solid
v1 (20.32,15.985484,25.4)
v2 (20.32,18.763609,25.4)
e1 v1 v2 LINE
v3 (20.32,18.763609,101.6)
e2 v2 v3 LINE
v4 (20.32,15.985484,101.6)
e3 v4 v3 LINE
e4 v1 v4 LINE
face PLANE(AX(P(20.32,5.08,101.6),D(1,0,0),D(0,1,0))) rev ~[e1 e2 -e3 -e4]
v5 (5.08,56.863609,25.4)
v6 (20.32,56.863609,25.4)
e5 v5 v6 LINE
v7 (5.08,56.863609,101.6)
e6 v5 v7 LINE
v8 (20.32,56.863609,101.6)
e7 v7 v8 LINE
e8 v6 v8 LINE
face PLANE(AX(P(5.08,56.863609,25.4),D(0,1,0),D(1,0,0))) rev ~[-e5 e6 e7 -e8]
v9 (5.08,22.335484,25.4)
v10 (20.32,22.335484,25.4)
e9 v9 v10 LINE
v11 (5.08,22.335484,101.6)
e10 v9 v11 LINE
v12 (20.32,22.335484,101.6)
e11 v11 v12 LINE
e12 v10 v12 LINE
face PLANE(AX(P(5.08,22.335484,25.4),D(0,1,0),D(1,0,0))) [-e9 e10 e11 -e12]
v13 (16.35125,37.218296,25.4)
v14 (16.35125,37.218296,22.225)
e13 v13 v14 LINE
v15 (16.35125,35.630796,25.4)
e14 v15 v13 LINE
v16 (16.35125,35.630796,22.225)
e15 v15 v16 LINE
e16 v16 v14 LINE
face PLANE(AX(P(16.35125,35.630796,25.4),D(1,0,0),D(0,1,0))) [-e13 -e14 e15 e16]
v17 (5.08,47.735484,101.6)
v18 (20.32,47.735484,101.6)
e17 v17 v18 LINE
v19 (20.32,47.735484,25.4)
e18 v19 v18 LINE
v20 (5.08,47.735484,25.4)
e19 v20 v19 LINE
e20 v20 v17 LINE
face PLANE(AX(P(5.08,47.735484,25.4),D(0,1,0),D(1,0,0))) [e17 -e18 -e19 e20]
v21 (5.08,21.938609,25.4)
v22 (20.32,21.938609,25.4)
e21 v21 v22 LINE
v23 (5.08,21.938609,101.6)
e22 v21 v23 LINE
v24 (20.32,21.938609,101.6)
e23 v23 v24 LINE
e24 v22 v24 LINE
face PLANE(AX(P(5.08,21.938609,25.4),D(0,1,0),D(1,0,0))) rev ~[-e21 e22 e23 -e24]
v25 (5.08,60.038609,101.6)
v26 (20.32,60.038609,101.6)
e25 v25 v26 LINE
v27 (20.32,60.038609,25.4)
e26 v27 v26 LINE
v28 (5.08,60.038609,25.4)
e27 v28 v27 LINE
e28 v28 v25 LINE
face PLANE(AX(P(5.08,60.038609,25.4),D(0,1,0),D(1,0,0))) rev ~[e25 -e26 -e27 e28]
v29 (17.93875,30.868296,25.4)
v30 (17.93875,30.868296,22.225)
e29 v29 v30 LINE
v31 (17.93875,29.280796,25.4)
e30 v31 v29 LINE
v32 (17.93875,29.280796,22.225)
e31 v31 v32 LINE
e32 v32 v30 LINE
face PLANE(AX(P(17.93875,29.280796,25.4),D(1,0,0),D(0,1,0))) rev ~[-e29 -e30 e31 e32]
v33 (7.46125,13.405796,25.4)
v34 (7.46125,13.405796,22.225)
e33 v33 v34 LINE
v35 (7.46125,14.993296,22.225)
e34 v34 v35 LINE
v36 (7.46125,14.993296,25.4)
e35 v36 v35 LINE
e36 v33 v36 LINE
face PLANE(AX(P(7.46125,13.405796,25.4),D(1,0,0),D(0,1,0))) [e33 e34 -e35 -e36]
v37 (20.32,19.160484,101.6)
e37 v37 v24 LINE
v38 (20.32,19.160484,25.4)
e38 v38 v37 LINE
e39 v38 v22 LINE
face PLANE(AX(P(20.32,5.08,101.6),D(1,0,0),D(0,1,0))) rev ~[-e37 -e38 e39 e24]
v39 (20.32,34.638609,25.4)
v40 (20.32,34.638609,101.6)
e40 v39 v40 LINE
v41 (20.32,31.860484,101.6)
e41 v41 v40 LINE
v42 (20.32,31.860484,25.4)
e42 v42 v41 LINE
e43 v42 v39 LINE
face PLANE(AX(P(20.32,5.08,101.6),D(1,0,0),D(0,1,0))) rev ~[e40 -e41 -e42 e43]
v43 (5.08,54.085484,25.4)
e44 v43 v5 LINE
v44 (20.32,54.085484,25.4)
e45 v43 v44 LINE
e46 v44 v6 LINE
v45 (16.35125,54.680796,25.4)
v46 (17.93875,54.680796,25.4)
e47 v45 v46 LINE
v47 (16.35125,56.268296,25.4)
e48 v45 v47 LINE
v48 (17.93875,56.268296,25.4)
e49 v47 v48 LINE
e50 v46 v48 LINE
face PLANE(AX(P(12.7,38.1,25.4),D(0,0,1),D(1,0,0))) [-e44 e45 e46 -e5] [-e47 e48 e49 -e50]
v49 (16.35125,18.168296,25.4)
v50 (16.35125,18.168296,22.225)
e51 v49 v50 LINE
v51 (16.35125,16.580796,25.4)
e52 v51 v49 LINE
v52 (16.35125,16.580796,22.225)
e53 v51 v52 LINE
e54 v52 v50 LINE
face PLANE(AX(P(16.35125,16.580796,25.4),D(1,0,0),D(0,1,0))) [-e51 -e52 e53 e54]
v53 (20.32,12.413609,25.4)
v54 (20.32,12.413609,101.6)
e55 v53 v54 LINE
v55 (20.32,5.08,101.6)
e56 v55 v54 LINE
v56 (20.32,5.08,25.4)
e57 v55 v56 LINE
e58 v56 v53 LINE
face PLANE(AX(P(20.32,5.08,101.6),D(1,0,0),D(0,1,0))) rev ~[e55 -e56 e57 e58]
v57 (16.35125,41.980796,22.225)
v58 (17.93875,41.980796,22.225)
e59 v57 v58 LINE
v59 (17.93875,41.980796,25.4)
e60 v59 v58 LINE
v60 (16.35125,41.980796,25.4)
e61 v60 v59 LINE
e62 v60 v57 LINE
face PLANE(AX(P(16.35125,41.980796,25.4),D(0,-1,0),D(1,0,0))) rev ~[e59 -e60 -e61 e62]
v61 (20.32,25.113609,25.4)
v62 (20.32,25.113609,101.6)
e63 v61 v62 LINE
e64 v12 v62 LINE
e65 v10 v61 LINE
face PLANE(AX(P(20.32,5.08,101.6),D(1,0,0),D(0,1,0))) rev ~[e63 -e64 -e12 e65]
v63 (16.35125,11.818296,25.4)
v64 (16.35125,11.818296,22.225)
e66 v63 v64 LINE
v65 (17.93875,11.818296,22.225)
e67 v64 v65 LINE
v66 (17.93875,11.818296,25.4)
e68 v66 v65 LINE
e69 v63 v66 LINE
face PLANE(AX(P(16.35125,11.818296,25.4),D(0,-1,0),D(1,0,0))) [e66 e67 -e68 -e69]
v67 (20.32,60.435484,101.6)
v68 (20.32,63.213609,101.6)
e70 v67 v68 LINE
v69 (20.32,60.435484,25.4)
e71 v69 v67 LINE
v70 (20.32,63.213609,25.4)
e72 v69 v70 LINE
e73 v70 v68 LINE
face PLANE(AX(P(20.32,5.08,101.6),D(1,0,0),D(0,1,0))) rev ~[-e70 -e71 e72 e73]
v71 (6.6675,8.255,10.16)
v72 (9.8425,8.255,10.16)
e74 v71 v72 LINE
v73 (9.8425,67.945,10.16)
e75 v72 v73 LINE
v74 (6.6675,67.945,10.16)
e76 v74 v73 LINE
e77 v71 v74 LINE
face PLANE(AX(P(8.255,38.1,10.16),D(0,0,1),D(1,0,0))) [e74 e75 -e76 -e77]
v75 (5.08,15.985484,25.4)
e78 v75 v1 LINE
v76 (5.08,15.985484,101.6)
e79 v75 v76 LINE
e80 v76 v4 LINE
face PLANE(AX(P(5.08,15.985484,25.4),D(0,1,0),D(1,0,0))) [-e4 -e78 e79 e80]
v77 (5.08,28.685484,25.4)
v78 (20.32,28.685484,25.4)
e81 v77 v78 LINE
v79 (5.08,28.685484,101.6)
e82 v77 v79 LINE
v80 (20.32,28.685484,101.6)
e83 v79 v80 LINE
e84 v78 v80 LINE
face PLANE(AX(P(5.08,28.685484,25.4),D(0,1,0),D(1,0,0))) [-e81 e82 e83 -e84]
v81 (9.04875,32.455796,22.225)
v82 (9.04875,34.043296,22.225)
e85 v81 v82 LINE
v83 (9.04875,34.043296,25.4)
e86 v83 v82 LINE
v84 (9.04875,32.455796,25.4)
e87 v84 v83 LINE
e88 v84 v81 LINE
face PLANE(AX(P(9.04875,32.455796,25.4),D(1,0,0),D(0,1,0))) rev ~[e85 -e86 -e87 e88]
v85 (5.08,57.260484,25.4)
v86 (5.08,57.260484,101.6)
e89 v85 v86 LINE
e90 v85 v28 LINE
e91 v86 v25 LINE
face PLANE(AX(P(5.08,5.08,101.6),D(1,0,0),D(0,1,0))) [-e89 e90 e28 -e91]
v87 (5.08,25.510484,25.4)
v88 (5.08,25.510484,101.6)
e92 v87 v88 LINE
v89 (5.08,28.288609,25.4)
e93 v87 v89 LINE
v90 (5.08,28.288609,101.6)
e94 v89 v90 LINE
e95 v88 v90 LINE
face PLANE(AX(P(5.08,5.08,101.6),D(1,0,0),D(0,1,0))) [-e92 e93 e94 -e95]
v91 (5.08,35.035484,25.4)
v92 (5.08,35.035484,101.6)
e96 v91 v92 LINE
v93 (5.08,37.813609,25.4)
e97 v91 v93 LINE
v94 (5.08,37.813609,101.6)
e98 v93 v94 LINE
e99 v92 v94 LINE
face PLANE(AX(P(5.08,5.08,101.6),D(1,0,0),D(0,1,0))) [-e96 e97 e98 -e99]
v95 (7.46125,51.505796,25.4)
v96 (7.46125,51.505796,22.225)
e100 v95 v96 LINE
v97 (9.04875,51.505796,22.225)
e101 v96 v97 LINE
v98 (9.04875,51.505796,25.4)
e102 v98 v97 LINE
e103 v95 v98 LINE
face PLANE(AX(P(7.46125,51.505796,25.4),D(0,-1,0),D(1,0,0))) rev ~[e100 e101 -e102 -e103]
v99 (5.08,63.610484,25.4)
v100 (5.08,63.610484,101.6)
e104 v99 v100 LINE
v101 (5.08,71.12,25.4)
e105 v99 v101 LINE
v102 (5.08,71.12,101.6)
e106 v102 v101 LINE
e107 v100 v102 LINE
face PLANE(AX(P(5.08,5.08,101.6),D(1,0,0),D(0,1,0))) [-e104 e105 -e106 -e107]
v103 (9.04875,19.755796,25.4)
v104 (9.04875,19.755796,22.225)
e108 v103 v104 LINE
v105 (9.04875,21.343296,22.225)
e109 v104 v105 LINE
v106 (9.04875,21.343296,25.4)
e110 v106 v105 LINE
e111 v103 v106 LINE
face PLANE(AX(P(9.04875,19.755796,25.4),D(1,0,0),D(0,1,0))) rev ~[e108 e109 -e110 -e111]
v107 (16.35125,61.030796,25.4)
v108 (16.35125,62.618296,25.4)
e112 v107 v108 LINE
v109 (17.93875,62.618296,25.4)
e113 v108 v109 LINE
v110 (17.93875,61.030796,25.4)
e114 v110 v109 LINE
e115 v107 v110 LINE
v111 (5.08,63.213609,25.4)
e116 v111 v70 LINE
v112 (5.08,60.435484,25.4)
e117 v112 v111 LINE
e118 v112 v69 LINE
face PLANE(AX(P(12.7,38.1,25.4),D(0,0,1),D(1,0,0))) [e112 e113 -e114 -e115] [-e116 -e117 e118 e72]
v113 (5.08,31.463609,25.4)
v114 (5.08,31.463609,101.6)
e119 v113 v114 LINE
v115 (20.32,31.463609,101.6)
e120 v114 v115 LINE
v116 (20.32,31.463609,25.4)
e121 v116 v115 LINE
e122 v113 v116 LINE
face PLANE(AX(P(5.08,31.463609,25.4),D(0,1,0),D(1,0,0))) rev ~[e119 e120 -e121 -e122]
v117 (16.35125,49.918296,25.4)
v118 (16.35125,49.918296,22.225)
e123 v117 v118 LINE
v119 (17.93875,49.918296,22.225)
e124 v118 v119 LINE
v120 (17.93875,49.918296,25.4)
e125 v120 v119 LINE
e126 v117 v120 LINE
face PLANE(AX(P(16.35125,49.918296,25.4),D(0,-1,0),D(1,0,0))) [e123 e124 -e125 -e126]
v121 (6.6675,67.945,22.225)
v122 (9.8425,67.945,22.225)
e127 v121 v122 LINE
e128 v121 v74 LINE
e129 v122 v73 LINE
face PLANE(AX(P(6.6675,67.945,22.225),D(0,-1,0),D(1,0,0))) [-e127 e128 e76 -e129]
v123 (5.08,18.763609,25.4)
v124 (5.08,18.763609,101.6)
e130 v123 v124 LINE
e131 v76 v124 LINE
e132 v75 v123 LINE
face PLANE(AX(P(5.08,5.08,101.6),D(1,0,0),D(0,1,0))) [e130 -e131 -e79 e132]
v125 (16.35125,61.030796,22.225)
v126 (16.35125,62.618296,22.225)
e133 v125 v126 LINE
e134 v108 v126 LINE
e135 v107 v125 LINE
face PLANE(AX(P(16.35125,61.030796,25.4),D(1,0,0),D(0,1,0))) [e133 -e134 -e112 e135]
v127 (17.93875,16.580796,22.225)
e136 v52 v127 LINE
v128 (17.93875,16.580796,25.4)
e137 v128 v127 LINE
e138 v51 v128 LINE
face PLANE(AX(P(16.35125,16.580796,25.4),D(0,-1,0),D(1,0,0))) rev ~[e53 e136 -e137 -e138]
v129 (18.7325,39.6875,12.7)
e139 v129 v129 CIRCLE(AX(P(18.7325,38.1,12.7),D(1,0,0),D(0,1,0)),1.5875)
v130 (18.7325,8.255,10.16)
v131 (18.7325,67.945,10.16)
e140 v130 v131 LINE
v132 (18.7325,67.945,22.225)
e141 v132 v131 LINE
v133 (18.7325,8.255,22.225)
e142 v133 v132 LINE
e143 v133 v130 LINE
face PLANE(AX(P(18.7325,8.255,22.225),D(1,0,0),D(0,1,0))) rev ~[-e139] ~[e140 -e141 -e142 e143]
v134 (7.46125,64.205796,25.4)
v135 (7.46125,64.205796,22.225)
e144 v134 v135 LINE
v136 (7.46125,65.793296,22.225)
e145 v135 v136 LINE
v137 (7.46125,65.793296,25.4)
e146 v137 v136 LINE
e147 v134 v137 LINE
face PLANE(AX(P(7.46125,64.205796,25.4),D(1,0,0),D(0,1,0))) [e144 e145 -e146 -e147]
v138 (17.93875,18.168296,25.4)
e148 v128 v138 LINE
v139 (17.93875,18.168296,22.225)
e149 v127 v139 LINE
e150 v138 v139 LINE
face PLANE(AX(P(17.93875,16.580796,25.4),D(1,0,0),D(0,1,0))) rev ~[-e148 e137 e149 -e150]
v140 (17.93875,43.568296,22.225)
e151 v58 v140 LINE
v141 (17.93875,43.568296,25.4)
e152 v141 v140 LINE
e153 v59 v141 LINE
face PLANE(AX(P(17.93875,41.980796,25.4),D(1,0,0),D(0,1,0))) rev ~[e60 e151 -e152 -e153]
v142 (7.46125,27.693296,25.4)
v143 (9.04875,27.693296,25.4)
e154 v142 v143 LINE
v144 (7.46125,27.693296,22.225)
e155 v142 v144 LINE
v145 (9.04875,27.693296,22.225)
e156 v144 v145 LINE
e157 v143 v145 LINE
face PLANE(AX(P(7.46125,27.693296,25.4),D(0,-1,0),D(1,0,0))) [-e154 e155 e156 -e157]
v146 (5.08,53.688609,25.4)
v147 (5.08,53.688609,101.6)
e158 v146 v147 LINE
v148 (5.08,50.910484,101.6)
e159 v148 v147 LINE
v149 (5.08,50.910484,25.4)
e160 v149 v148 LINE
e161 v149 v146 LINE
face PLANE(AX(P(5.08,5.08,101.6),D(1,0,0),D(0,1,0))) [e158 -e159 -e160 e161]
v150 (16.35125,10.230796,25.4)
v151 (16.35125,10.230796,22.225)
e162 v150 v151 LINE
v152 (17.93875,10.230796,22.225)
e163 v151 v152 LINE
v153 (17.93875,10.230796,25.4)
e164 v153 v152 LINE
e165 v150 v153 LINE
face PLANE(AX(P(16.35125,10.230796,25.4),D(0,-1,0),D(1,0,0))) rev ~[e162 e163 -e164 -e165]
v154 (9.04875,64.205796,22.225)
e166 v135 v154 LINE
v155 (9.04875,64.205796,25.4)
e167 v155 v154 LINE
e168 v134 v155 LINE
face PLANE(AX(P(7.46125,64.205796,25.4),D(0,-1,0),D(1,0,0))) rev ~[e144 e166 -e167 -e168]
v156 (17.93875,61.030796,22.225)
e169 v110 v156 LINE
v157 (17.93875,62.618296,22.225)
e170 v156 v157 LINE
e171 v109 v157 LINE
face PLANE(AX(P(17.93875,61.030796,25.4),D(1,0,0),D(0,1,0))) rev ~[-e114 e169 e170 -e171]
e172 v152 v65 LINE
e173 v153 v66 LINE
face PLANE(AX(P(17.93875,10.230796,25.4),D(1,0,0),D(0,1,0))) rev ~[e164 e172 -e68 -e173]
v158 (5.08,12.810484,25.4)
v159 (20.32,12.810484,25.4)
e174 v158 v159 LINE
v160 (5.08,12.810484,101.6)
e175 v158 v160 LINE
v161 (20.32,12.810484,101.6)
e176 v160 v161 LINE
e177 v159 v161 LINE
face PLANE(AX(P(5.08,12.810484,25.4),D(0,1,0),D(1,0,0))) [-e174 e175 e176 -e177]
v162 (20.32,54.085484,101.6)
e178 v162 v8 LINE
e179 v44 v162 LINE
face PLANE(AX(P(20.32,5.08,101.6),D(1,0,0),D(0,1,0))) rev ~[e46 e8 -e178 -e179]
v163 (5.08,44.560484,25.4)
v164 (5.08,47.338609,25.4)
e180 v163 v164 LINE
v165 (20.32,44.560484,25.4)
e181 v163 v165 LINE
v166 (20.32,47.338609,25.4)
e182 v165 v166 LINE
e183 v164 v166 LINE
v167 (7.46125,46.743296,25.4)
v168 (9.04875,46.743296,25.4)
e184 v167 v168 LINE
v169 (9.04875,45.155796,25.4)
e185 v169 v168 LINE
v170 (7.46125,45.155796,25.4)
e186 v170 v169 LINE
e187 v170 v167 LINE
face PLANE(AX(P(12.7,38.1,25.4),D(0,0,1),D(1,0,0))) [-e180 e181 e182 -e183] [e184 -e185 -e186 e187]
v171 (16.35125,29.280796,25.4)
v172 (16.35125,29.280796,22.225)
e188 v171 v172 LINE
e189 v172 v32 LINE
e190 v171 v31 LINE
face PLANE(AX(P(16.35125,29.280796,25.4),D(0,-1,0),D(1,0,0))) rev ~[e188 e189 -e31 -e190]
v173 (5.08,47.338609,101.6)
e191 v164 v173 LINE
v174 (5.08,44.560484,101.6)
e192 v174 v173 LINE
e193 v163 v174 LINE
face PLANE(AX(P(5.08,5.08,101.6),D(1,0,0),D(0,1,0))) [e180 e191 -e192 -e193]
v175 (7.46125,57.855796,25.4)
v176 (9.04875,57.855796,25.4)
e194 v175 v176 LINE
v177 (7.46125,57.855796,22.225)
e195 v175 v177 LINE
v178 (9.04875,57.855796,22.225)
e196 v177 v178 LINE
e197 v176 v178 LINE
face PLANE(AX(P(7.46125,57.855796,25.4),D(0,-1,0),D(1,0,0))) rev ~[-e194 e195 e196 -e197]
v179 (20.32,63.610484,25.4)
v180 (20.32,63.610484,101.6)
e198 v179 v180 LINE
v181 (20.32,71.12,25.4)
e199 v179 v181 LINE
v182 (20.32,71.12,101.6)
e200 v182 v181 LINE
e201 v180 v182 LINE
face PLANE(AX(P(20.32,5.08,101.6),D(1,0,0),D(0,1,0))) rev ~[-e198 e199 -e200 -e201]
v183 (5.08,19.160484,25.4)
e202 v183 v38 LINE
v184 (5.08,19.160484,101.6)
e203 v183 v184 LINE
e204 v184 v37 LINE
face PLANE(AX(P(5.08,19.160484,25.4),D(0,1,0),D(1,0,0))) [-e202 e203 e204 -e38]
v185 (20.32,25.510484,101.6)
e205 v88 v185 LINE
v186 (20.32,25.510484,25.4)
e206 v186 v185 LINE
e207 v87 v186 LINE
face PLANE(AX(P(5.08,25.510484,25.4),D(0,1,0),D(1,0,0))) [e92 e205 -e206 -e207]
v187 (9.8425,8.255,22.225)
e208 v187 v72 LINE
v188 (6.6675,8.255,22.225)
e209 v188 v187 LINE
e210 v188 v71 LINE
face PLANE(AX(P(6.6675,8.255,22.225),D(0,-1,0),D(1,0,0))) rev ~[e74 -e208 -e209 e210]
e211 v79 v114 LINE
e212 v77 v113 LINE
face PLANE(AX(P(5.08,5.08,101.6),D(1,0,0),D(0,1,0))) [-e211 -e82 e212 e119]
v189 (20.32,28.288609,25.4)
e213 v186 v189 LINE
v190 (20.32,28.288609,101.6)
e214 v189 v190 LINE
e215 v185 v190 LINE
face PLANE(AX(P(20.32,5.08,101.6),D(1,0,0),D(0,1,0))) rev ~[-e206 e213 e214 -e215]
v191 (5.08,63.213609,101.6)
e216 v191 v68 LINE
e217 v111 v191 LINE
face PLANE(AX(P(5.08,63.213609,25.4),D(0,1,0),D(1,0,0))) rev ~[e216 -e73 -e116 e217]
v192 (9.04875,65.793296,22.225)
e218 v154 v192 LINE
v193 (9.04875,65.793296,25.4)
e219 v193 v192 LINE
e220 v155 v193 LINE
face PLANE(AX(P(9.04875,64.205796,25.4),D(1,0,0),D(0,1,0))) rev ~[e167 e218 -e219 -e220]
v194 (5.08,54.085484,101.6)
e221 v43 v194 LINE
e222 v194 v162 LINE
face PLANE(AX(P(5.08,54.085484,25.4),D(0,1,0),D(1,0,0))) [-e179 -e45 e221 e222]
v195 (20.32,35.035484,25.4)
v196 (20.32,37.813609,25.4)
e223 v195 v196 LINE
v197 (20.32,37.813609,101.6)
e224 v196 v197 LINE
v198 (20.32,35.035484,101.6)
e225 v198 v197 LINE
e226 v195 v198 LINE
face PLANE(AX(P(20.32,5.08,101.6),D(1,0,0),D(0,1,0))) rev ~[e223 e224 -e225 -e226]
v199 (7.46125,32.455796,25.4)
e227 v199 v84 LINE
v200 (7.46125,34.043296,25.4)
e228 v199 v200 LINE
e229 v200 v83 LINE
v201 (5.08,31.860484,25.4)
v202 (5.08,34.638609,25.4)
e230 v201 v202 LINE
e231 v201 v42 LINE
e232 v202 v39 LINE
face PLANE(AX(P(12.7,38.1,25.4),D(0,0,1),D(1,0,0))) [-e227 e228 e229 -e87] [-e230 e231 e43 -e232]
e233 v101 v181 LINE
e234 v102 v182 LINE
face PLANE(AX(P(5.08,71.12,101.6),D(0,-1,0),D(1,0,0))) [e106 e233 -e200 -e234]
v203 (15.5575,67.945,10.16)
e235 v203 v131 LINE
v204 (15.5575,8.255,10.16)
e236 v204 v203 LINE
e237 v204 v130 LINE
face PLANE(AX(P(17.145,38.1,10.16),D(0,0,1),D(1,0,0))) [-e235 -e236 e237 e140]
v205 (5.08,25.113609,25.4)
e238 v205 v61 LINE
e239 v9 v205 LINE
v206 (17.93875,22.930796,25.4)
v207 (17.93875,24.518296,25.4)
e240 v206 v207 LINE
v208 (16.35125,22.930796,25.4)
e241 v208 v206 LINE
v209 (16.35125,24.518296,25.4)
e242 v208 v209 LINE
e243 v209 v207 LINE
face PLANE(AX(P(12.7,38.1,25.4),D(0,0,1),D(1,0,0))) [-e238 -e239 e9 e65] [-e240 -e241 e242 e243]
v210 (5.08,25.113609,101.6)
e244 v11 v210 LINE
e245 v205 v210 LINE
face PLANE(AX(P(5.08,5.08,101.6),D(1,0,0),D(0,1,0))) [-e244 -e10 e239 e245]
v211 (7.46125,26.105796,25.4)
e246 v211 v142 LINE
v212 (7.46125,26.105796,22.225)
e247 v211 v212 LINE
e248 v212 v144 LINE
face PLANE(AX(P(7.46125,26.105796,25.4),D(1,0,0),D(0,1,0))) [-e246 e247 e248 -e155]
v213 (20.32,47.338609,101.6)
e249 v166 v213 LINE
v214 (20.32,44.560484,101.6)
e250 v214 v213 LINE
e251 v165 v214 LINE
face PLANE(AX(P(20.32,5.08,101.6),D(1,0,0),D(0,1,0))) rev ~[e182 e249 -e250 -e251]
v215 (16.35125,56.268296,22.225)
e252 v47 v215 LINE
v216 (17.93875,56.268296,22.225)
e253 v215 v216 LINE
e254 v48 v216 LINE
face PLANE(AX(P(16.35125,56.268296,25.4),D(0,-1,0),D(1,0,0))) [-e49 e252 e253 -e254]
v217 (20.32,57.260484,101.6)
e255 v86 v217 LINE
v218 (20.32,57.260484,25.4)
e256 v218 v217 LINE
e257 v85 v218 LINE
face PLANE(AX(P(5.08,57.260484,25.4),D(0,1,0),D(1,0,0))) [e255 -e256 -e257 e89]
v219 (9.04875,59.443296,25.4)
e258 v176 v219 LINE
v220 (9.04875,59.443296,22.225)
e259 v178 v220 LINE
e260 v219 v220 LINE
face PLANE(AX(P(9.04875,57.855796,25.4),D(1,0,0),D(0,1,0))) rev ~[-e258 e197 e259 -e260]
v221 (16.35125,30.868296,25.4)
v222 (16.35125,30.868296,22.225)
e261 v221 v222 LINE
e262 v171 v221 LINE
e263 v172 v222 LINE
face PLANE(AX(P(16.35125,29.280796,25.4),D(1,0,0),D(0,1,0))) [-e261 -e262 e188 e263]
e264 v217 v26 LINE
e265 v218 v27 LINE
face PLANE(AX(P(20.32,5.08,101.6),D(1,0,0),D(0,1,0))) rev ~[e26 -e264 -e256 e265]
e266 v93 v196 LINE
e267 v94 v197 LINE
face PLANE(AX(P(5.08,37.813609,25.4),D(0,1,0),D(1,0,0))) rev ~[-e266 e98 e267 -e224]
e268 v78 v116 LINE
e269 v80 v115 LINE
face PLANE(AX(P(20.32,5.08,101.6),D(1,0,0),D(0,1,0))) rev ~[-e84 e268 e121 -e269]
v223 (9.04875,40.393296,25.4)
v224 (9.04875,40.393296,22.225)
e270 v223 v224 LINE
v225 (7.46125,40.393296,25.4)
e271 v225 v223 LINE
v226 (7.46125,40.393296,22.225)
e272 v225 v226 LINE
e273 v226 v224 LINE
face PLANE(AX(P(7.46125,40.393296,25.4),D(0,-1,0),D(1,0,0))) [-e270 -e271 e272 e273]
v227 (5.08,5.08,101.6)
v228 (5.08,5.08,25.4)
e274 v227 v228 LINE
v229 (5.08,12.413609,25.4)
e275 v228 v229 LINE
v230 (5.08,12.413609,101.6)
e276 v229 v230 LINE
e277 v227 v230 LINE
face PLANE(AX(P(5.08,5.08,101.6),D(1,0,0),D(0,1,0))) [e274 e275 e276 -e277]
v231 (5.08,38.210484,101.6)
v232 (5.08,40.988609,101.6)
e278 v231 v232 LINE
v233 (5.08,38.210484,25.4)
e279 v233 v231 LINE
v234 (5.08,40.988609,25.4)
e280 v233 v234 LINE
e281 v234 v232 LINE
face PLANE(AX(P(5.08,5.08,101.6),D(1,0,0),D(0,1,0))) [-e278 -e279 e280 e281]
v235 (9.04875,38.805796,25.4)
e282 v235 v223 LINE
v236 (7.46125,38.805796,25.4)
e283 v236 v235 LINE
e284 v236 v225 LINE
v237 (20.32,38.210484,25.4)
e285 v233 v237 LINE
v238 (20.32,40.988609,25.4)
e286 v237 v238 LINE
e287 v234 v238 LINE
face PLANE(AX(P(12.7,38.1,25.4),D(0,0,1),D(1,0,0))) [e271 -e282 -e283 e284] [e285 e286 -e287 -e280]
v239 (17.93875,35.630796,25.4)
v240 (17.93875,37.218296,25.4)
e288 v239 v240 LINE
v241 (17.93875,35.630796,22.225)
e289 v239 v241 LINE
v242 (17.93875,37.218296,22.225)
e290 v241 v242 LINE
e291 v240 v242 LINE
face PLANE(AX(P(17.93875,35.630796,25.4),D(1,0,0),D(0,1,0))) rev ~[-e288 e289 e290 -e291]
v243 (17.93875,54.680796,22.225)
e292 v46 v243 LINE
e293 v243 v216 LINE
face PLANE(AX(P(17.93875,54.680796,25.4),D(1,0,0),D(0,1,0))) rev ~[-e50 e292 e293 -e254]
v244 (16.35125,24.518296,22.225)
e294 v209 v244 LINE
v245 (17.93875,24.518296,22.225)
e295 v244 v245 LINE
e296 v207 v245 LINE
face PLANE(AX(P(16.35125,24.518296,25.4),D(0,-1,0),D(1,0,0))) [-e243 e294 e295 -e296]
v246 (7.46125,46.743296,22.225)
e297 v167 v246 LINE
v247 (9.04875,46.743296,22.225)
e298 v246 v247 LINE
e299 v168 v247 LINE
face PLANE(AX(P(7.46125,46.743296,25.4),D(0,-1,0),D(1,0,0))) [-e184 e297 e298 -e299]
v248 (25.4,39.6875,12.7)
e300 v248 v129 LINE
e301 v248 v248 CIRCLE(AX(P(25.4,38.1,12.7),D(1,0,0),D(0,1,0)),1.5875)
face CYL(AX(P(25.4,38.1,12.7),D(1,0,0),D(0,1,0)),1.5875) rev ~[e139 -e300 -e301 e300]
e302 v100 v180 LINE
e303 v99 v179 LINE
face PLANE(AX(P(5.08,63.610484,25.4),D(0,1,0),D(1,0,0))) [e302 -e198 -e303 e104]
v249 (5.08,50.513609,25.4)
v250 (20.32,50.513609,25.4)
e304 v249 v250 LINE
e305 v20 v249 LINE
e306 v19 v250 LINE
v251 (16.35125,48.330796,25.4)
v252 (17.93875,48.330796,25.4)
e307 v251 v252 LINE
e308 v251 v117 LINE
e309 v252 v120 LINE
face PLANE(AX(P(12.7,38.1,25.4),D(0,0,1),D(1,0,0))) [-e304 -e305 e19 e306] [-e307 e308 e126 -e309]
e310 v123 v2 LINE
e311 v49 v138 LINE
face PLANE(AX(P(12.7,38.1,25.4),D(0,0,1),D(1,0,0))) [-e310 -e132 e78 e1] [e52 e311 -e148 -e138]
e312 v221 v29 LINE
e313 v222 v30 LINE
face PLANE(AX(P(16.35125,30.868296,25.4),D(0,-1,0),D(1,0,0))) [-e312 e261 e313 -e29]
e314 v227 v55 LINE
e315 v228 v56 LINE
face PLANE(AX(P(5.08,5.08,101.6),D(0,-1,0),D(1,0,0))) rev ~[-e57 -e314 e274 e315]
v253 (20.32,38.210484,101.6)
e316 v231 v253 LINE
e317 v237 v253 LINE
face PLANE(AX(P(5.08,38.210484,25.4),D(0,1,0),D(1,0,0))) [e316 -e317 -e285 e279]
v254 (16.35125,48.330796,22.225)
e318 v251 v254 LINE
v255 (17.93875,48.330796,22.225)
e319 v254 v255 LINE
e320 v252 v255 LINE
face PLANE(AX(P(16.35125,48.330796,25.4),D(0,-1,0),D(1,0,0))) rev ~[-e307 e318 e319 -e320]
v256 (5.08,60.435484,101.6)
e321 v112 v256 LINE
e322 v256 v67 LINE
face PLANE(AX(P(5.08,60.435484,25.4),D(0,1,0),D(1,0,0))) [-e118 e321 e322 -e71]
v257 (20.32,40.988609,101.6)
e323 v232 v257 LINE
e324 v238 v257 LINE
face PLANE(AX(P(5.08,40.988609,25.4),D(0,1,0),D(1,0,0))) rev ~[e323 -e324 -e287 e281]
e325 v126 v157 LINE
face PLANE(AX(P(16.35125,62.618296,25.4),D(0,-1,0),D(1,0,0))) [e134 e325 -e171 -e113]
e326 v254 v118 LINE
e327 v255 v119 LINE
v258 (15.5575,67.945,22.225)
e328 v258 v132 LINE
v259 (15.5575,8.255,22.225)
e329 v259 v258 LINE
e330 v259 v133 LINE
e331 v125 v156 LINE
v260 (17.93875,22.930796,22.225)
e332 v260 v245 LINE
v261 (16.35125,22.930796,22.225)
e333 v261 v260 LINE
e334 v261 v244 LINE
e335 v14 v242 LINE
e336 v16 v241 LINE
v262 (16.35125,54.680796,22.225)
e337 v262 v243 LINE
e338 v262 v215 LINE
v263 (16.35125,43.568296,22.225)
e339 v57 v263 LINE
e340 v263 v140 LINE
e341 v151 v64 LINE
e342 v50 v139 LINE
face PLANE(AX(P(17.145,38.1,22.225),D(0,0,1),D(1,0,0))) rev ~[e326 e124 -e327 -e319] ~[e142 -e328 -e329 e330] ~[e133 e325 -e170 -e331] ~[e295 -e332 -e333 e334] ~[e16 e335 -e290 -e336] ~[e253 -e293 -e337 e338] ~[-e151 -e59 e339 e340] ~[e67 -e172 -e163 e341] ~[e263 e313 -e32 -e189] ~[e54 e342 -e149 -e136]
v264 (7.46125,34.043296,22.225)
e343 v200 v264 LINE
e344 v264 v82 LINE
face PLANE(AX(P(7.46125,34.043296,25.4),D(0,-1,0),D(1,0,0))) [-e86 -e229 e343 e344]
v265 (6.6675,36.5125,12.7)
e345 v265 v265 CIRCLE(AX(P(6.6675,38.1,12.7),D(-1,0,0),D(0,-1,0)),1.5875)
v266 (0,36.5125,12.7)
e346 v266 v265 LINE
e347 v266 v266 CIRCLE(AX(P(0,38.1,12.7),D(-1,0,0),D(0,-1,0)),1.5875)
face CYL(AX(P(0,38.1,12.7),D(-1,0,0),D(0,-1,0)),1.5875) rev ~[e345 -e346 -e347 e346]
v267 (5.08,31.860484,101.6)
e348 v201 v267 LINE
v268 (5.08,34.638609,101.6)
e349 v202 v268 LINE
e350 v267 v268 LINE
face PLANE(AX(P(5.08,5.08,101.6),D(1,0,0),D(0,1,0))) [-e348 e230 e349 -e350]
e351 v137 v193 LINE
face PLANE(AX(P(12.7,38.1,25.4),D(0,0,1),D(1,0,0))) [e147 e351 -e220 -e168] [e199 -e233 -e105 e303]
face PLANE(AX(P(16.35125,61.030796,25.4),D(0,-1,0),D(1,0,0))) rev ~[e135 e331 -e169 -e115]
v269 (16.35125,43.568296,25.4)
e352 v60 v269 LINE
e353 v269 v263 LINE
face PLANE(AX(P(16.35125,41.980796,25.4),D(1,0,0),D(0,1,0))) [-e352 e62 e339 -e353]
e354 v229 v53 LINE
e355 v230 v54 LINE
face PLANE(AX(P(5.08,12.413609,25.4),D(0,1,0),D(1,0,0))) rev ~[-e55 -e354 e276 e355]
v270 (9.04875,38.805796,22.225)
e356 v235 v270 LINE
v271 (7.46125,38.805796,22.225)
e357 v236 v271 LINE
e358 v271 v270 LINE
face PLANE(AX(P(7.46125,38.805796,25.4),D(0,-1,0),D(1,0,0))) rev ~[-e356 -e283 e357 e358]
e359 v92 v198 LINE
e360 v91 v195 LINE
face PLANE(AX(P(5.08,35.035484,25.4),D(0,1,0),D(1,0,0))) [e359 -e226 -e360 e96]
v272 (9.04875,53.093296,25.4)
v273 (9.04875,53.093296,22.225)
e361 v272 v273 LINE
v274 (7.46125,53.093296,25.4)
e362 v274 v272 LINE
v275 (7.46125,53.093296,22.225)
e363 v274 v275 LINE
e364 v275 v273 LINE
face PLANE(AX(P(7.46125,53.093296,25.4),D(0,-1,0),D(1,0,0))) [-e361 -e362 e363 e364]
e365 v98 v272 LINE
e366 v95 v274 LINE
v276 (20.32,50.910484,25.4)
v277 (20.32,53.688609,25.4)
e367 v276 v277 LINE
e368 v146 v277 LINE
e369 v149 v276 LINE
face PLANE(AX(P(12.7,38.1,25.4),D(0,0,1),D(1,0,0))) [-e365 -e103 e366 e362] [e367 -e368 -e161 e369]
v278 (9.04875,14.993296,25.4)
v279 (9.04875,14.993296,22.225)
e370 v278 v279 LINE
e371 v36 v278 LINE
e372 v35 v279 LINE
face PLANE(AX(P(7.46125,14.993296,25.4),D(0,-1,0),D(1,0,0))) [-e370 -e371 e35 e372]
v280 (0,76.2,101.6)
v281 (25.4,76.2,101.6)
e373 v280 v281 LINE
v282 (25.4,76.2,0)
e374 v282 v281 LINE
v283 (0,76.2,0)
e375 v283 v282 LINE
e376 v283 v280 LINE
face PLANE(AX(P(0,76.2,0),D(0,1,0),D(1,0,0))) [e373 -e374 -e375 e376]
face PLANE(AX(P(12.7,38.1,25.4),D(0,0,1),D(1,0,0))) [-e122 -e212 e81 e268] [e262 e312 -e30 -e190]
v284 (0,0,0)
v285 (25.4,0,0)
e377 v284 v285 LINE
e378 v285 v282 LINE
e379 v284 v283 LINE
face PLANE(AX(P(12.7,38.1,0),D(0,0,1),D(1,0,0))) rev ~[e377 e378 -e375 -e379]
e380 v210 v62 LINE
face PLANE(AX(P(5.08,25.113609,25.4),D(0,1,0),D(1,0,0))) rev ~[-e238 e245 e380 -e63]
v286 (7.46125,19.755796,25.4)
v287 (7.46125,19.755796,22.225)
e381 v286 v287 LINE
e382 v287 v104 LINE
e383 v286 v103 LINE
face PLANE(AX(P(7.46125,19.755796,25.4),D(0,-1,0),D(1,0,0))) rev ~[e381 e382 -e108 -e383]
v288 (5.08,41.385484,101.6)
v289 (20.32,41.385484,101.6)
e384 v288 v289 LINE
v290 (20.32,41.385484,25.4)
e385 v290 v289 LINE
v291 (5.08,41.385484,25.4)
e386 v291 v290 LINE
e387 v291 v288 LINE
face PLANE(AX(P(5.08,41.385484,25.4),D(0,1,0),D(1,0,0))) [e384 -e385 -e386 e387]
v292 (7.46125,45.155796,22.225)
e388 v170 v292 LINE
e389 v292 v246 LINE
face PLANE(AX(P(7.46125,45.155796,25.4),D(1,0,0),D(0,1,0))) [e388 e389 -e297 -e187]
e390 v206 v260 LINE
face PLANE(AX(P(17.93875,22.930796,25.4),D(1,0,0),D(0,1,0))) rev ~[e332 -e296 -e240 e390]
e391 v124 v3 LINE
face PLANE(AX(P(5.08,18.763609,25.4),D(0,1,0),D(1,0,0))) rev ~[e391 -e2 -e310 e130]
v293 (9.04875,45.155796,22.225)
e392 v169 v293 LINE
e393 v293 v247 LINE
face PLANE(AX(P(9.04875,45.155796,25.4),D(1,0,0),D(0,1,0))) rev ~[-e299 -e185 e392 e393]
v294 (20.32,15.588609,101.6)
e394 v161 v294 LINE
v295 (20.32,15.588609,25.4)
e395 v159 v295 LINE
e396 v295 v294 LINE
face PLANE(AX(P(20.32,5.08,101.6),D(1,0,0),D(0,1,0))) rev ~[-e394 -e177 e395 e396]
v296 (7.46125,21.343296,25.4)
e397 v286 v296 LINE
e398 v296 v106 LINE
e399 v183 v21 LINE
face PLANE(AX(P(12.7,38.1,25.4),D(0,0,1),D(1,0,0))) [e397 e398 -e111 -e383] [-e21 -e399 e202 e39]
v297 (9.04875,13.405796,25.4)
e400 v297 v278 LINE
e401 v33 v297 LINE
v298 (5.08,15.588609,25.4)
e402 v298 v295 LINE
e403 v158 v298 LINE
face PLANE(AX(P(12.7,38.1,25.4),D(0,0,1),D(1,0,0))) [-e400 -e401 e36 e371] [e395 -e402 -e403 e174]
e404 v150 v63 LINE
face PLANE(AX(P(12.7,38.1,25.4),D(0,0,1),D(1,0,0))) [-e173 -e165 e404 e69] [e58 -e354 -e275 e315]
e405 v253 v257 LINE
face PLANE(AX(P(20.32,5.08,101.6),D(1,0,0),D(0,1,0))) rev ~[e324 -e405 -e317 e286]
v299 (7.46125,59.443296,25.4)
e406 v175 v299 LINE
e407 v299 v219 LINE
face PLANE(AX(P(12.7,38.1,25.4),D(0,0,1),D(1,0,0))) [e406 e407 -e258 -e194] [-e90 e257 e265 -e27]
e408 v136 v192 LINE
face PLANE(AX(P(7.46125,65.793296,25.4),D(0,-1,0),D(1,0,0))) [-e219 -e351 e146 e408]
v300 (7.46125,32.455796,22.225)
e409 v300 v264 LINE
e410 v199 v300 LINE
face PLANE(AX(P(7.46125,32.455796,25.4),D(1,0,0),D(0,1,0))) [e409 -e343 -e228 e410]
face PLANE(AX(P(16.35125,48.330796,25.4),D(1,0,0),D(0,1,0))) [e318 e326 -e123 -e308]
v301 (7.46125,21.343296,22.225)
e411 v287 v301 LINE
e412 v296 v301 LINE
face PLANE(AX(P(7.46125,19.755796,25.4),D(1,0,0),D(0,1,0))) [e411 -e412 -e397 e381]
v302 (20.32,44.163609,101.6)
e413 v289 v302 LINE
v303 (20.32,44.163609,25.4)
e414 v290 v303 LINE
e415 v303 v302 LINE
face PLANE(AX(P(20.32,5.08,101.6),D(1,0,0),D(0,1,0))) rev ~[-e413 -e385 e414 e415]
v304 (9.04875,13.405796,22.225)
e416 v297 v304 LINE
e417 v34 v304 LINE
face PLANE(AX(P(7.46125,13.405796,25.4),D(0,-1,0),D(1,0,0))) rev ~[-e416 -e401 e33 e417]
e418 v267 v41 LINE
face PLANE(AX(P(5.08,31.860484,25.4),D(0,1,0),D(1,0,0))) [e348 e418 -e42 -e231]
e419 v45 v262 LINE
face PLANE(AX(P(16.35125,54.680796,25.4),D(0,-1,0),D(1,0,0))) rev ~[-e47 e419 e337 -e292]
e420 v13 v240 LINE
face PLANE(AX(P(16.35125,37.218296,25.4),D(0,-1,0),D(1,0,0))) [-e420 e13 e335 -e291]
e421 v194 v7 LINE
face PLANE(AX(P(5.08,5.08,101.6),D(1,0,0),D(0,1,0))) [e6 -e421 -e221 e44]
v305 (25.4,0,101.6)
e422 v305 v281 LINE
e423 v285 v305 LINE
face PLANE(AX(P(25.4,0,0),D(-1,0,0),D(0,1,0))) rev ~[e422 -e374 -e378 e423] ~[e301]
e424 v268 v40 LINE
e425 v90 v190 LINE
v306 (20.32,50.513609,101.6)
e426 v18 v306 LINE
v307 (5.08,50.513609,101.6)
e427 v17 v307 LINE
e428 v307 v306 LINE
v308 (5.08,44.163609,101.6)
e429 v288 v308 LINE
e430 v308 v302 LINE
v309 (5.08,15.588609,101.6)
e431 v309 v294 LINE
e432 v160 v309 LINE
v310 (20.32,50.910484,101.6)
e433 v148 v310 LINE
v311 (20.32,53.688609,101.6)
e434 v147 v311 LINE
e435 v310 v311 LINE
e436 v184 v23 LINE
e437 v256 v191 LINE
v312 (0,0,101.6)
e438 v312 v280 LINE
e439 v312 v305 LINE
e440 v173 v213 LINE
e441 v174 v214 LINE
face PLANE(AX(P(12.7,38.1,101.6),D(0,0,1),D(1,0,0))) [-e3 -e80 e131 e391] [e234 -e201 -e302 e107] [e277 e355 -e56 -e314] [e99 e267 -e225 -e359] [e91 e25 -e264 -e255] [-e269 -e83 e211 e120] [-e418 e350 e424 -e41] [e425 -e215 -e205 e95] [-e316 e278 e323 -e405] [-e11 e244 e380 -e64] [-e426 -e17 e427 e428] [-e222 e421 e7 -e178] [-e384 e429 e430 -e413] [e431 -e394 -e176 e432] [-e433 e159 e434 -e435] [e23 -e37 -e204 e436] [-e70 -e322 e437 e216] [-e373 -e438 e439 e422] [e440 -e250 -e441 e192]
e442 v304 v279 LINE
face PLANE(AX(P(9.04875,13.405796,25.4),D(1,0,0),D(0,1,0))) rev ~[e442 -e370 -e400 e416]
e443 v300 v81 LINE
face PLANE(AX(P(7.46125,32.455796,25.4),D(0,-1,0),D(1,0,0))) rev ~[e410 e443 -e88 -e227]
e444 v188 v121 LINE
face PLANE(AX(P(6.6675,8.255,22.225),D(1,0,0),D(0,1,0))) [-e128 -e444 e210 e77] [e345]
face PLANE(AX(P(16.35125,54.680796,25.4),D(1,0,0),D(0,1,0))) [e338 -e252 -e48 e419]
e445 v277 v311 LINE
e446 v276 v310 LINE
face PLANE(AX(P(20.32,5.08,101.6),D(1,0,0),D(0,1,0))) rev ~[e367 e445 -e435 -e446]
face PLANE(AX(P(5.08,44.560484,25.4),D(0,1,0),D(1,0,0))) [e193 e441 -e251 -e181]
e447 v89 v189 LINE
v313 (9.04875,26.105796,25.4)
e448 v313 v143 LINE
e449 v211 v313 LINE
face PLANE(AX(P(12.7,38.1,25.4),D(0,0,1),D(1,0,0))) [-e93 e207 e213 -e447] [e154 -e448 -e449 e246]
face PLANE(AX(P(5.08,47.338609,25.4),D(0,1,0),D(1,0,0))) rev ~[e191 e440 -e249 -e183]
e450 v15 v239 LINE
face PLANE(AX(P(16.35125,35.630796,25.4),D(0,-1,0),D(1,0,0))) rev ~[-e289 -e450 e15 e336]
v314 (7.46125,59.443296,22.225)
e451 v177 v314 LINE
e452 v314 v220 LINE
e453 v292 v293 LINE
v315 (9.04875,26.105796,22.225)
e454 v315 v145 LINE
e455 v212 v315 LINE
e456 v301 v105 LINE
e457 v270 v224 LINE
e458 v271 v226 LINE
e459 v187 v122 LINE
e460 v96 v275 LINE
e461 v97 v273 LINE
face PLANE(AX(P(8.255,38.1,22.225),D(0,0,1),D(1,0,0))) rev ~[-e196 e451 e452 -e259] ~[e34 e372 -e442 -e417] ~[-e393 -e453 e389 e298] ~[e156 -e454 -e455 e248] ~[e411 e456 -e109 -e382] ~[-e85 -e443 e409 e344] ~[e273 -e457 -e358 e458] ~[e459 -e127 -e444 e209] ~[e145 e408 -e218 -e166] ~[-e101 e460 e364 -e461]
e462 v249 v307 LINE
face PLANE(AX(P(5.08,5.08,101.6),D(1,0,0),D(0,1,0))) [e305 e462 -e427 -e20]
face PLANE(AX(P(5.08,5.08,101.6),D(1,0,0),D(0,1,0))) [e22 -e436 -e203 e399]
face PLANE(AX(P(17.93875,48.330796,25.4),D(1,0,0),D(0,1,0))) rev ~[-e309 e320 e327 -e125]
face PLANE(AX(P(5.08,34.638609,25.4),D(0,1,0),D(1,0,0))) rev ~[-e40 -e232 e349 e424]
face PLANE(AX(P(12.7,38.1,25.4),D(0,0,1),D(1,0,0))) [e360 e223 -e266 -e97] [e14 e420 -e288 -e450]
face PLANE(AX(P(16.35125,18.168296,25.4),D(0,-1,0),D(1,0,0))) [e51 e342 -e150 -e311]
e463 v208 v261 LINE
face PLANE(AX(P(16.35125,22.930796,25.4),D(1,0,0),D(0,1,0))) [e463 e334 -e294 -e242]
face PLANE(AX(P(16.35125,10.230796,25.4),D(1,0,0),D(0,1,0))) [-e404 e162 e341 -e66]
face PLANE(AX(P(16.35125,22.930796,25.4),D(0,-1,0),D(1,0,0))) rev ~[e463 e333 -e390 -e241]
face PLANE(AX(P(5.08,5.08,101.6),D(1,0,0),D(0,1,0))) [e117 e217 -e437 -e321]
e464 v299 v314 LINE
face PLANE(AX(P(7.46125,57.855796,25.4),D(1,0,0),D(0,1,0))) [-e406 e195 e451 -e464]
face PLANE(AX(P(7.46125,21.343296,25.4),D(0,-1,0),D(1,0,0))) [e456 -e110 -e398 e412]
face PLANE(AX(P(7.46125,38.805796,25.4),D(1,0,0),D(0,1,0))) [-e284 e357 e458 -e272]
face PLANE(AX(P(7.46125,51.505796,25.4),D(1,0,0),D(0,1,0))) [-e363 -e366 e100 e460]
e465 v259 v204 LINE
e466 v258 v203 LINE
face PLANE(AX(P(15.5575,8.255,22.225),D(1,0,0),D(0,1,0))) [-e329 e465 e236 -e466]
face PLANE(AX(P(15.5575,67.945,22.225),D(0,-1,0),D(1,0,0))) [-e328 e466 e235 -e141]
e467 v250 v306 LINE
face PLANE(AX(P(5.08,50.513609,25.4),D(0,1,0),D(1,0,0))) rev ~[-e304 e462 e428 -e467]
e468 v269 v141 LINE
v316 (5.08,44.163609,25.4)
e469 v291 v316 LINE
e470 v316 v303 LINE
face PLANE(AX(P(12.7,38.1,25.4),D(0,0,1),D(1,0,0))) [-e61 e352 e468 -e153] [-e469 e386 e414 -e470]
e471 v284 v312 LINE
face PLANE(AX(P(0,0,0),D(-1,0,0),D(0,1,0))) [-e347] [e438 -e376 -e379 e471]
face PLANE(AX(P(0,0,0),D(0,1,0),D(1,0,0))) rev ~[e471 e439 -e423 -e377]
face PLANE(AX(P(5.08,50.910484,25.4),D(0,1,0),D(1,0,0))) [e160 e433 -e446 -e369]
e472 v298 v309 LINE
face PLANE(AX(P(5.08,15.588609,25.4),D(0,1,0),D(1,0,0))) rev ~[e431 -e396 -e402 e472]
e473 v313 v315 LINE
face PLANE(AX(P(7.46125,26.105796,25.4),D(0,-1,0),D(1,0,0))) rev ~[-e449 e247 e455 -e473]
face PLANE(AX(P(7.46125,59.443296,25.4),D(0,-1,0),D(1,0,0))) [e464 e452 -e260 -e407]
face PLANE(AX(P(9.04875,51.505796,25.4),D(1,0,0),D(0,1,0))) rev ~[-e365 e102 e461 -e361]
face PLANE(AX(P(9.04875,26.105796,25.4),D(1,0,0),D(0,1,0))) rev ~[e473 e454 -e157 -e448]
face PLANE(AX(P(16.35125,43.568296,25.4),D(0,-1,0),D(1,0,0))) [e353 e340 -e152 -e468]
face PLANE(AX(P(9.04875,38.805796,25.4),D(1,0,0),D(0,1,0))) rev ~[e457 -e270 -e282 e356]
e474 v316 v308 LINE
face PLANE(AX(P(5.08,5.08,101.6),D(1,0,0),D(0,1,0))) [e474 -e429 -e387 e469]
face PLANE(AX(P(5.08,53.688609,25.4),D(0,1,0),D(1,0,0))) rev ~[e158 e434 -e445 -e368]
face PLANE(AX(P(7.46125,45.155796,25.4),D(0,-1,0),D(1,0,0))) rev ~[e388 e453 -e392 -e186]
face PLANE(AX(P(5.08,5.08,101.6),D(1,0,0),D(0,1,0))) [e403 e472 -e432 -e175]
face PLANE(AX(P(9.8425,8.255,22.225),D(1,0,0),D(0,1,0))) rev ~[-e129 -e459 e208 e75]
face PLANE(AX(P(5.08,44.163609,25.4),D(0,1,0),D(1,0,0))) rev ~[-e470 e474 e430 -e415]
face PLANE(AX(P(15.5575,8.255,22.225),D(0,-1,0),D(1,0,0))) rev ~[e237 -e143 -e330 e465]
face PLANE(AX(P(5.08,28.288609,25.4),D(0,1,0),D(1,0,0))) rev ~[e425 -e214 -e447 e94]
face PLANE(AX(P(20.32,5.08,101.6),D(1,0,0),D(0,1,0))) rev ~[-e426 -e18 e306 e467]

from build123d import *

# Parameters (mm, degrees)
F0_W      = 25.4
F0_H      = 76.2
F1_DEPTH  = 101.6
F2_W      = 15.24
F2_H      = 66.04
F3_DEPTH  = 76.2
F6_START  = -3.175
F5_W      = 3.175
F5_H      = 59.69
F6_DEPTH  = 12.065
F4_R      = 1.5875
F7_DEPTH  = 6.6675
F8_R      = 1.5875
F9_DEPTH  = 6.6675
F10_W     = 1.5875
F10_H     = 1.5875
F11_DEPTH = 3.175
F12_W     = 1.5875
F12_H     = 1.5875
F13_DEPTH = 3.175
F14_W     = 15.24
F14_H     = 0.396875
F15_DEPTH = 76.2


with BuildPart() as f1:
    # F0 (on Top) → F1 (new body)
    with BuildSketch(Plane.XY):
        with Locations((12.7, 38.1)):
            Rectangle(F0_W, F0_H)
    extrude(amount=F1_DEPTH)

    # F2 (on face) → F3 (cut)
    with BuildSketch(Plane.XY.offset(101.6)):
        with Locations((12.7, 38.1)):
            Rectangle(F2_W, F2_H)
    extrude(amount=-F3_DEPTH, mode=Mode.SUBTRACT)

    # F5 (on face) → F6 (cut)
    with BuildSketch(Plane.XY.offset(25.4).offset(F6_START)):
        with Locations((17.145, 38.1)):
            Rectangle(F5_W, F5_H)
        with Locations((8.255, 38.1)):
            Rectangle(F5_W, F5_H)
    extrude(amount=-F6_DEPTH, mode=Mode.SUBTRACT)

    # F4 (on face) → F7 (cut, through all)
    with BuildSketch(Plane.YZ.offset(25.4)):
        with Locations((38.1, 12.7)):
            Circle(F4_R)
    extrude(amount=-F7_DEPTH, mode=Mode.SUBTRACT)

    # F8 (on face) → F9 (cut, through all)
    with BuildSketch(Plane(origin=(0, 0, 0), x_dir=(0, -1, 0), z_dir=(-1, 0, 0))):
        with Locations((-38.1, 12.7)):
            Circle(F8_R)
    extrude(amount=-F9_DEPTH, mode=Mode.SUBTRACT)

    # F10 (on face) → F11 (cut, through all)
    with BuildSketch(Plane.XY.offset(25.4)):
        with Locations((8.255, 64.9995461683)):
            Rectangle(F10_W, F10_H)
        with Locations((8.255, 58.6495461683)):
            Rectangle(F10_W, F10_H)
        with Locations((8.255, 52.2995461683)):
            Rectangle(F10_W, F10_H)
        with Locations((8.255, 45.9495461683)):
            Rectangle(F10_W, F10_H)
        with Locations((8.255, 39.5995461683)):
            Rectangle(F10_W, F10_H)
        with Locations((8.255, 33.2495461683)):
            Rectangle(F10_W, F10_H)
        with Locations((8.255, 26.8995461683)):
            Rectangle(F10_W, F10_H)
        with Locations((8.255, 20.5495461683)):
            Rectangle(F10_W, F10_H)
        with Locations((8.255, 14.1995461683)):
            Rectangle(F10_W, F10_H)
    extrude(amount=-F11_DEPTH, mode=Mode.SUBTRACT)

    # F12 (on face) → F13 (cut, through all)
    with BuildSketch(Plane.XY.offset(25.4)):
        with Locations((17.145, 61.8245461683)):
            Rectangle(F12_W, F12_H)
        with Locations((17.145, 55.4745461683)):
            Rectangle(F12_W, F12_H)
        with Locations((17.145, 49.1245461683)):
            Rectangle(F12_W, F12_H)
        with Locations((17.145, 42.7745461683)):
            Rectangle(F12_W, F12_H)
        with Locations((17.145, 36.4245461683)):
            Rectangle(F12_W, F12_H)
        with Locations((17.145, 30.0745461683)):
            Rectangle(F12_W, F12_H)
        with Locations((17.145, 23.7245461683)):
            Rectangle(F12_W, F12_H)
        with Locations((17.145, 17.3745461683)):
            Rectangle(F12_W, F12_H)
        with Locations((17.145, 11.0245461683)):
            Rectangle(F12_W, F12_H)
    extrude(amount=-F13_DEPTH, mode=Mode.SUBTRACT)

    # F14 (on face) → F15 (join, through all)
    with BuildSketch(Plane.XY.offset(25.4)):
        with Locations((12.7, 63.4120461683)):
            Rectangle(F14_W, F14_H)
        with Locations((12.7, 60.2370461683)):
            Rectangle(F14_W, F14_H)
        with Locations((12.7, 57.0620461683)):
            Rectangle(F14_W, F14_H)
        with Locations((12.7, 53.8870461683)):
            Rectangle(F14_W, F14_H)
        with Locations((12.7, 50.7120461683)):
            Rectangle(F14_W, F14_H)
        with Locations((12.7, 47.5370461683)):
            Rectangle(F14_W, F14_H)
        with Locations((12.7, 44.3620461683)):
            Rectangle(F14_W, F14_H)
        with Locations((12.7, 41.1870461683)):
            Rectangle(F14_W, F14_H)
        with Locations((12.7, 38.0120461683)):
            Rectangle(F14_W, F14_H)
        with Locations((12.7, 34.8370461683)):
            Rectangle(F14_W, F14_H)
        with Locations((12.7, 31.6620461683)):
            Rectangle(F14_W, F14_H)
        with Locations((12.7, 28.4870461683)):
            Rectangle(F14_W, F14_H)
        with Locations((12.7, 25.3120461683)):
            Rectangle(F14_W, F14_H)
        with Locations((12.7, 22.1370461683)):
            Rectangle(F14_W, F14_H)
        with Locations((12.7, 18.9620461683)):
            Rectangle(F14_W, F14_H)
        with Locations((12.7, 15.7870461683)):
            Rectangle(F14_W, F14_H)
        with Locations((12.7, 12.6120461683)):
            Rectangle(F14_W, F14_H)
    extrude(amount=F15_DEPTH)


solid = f1.part
